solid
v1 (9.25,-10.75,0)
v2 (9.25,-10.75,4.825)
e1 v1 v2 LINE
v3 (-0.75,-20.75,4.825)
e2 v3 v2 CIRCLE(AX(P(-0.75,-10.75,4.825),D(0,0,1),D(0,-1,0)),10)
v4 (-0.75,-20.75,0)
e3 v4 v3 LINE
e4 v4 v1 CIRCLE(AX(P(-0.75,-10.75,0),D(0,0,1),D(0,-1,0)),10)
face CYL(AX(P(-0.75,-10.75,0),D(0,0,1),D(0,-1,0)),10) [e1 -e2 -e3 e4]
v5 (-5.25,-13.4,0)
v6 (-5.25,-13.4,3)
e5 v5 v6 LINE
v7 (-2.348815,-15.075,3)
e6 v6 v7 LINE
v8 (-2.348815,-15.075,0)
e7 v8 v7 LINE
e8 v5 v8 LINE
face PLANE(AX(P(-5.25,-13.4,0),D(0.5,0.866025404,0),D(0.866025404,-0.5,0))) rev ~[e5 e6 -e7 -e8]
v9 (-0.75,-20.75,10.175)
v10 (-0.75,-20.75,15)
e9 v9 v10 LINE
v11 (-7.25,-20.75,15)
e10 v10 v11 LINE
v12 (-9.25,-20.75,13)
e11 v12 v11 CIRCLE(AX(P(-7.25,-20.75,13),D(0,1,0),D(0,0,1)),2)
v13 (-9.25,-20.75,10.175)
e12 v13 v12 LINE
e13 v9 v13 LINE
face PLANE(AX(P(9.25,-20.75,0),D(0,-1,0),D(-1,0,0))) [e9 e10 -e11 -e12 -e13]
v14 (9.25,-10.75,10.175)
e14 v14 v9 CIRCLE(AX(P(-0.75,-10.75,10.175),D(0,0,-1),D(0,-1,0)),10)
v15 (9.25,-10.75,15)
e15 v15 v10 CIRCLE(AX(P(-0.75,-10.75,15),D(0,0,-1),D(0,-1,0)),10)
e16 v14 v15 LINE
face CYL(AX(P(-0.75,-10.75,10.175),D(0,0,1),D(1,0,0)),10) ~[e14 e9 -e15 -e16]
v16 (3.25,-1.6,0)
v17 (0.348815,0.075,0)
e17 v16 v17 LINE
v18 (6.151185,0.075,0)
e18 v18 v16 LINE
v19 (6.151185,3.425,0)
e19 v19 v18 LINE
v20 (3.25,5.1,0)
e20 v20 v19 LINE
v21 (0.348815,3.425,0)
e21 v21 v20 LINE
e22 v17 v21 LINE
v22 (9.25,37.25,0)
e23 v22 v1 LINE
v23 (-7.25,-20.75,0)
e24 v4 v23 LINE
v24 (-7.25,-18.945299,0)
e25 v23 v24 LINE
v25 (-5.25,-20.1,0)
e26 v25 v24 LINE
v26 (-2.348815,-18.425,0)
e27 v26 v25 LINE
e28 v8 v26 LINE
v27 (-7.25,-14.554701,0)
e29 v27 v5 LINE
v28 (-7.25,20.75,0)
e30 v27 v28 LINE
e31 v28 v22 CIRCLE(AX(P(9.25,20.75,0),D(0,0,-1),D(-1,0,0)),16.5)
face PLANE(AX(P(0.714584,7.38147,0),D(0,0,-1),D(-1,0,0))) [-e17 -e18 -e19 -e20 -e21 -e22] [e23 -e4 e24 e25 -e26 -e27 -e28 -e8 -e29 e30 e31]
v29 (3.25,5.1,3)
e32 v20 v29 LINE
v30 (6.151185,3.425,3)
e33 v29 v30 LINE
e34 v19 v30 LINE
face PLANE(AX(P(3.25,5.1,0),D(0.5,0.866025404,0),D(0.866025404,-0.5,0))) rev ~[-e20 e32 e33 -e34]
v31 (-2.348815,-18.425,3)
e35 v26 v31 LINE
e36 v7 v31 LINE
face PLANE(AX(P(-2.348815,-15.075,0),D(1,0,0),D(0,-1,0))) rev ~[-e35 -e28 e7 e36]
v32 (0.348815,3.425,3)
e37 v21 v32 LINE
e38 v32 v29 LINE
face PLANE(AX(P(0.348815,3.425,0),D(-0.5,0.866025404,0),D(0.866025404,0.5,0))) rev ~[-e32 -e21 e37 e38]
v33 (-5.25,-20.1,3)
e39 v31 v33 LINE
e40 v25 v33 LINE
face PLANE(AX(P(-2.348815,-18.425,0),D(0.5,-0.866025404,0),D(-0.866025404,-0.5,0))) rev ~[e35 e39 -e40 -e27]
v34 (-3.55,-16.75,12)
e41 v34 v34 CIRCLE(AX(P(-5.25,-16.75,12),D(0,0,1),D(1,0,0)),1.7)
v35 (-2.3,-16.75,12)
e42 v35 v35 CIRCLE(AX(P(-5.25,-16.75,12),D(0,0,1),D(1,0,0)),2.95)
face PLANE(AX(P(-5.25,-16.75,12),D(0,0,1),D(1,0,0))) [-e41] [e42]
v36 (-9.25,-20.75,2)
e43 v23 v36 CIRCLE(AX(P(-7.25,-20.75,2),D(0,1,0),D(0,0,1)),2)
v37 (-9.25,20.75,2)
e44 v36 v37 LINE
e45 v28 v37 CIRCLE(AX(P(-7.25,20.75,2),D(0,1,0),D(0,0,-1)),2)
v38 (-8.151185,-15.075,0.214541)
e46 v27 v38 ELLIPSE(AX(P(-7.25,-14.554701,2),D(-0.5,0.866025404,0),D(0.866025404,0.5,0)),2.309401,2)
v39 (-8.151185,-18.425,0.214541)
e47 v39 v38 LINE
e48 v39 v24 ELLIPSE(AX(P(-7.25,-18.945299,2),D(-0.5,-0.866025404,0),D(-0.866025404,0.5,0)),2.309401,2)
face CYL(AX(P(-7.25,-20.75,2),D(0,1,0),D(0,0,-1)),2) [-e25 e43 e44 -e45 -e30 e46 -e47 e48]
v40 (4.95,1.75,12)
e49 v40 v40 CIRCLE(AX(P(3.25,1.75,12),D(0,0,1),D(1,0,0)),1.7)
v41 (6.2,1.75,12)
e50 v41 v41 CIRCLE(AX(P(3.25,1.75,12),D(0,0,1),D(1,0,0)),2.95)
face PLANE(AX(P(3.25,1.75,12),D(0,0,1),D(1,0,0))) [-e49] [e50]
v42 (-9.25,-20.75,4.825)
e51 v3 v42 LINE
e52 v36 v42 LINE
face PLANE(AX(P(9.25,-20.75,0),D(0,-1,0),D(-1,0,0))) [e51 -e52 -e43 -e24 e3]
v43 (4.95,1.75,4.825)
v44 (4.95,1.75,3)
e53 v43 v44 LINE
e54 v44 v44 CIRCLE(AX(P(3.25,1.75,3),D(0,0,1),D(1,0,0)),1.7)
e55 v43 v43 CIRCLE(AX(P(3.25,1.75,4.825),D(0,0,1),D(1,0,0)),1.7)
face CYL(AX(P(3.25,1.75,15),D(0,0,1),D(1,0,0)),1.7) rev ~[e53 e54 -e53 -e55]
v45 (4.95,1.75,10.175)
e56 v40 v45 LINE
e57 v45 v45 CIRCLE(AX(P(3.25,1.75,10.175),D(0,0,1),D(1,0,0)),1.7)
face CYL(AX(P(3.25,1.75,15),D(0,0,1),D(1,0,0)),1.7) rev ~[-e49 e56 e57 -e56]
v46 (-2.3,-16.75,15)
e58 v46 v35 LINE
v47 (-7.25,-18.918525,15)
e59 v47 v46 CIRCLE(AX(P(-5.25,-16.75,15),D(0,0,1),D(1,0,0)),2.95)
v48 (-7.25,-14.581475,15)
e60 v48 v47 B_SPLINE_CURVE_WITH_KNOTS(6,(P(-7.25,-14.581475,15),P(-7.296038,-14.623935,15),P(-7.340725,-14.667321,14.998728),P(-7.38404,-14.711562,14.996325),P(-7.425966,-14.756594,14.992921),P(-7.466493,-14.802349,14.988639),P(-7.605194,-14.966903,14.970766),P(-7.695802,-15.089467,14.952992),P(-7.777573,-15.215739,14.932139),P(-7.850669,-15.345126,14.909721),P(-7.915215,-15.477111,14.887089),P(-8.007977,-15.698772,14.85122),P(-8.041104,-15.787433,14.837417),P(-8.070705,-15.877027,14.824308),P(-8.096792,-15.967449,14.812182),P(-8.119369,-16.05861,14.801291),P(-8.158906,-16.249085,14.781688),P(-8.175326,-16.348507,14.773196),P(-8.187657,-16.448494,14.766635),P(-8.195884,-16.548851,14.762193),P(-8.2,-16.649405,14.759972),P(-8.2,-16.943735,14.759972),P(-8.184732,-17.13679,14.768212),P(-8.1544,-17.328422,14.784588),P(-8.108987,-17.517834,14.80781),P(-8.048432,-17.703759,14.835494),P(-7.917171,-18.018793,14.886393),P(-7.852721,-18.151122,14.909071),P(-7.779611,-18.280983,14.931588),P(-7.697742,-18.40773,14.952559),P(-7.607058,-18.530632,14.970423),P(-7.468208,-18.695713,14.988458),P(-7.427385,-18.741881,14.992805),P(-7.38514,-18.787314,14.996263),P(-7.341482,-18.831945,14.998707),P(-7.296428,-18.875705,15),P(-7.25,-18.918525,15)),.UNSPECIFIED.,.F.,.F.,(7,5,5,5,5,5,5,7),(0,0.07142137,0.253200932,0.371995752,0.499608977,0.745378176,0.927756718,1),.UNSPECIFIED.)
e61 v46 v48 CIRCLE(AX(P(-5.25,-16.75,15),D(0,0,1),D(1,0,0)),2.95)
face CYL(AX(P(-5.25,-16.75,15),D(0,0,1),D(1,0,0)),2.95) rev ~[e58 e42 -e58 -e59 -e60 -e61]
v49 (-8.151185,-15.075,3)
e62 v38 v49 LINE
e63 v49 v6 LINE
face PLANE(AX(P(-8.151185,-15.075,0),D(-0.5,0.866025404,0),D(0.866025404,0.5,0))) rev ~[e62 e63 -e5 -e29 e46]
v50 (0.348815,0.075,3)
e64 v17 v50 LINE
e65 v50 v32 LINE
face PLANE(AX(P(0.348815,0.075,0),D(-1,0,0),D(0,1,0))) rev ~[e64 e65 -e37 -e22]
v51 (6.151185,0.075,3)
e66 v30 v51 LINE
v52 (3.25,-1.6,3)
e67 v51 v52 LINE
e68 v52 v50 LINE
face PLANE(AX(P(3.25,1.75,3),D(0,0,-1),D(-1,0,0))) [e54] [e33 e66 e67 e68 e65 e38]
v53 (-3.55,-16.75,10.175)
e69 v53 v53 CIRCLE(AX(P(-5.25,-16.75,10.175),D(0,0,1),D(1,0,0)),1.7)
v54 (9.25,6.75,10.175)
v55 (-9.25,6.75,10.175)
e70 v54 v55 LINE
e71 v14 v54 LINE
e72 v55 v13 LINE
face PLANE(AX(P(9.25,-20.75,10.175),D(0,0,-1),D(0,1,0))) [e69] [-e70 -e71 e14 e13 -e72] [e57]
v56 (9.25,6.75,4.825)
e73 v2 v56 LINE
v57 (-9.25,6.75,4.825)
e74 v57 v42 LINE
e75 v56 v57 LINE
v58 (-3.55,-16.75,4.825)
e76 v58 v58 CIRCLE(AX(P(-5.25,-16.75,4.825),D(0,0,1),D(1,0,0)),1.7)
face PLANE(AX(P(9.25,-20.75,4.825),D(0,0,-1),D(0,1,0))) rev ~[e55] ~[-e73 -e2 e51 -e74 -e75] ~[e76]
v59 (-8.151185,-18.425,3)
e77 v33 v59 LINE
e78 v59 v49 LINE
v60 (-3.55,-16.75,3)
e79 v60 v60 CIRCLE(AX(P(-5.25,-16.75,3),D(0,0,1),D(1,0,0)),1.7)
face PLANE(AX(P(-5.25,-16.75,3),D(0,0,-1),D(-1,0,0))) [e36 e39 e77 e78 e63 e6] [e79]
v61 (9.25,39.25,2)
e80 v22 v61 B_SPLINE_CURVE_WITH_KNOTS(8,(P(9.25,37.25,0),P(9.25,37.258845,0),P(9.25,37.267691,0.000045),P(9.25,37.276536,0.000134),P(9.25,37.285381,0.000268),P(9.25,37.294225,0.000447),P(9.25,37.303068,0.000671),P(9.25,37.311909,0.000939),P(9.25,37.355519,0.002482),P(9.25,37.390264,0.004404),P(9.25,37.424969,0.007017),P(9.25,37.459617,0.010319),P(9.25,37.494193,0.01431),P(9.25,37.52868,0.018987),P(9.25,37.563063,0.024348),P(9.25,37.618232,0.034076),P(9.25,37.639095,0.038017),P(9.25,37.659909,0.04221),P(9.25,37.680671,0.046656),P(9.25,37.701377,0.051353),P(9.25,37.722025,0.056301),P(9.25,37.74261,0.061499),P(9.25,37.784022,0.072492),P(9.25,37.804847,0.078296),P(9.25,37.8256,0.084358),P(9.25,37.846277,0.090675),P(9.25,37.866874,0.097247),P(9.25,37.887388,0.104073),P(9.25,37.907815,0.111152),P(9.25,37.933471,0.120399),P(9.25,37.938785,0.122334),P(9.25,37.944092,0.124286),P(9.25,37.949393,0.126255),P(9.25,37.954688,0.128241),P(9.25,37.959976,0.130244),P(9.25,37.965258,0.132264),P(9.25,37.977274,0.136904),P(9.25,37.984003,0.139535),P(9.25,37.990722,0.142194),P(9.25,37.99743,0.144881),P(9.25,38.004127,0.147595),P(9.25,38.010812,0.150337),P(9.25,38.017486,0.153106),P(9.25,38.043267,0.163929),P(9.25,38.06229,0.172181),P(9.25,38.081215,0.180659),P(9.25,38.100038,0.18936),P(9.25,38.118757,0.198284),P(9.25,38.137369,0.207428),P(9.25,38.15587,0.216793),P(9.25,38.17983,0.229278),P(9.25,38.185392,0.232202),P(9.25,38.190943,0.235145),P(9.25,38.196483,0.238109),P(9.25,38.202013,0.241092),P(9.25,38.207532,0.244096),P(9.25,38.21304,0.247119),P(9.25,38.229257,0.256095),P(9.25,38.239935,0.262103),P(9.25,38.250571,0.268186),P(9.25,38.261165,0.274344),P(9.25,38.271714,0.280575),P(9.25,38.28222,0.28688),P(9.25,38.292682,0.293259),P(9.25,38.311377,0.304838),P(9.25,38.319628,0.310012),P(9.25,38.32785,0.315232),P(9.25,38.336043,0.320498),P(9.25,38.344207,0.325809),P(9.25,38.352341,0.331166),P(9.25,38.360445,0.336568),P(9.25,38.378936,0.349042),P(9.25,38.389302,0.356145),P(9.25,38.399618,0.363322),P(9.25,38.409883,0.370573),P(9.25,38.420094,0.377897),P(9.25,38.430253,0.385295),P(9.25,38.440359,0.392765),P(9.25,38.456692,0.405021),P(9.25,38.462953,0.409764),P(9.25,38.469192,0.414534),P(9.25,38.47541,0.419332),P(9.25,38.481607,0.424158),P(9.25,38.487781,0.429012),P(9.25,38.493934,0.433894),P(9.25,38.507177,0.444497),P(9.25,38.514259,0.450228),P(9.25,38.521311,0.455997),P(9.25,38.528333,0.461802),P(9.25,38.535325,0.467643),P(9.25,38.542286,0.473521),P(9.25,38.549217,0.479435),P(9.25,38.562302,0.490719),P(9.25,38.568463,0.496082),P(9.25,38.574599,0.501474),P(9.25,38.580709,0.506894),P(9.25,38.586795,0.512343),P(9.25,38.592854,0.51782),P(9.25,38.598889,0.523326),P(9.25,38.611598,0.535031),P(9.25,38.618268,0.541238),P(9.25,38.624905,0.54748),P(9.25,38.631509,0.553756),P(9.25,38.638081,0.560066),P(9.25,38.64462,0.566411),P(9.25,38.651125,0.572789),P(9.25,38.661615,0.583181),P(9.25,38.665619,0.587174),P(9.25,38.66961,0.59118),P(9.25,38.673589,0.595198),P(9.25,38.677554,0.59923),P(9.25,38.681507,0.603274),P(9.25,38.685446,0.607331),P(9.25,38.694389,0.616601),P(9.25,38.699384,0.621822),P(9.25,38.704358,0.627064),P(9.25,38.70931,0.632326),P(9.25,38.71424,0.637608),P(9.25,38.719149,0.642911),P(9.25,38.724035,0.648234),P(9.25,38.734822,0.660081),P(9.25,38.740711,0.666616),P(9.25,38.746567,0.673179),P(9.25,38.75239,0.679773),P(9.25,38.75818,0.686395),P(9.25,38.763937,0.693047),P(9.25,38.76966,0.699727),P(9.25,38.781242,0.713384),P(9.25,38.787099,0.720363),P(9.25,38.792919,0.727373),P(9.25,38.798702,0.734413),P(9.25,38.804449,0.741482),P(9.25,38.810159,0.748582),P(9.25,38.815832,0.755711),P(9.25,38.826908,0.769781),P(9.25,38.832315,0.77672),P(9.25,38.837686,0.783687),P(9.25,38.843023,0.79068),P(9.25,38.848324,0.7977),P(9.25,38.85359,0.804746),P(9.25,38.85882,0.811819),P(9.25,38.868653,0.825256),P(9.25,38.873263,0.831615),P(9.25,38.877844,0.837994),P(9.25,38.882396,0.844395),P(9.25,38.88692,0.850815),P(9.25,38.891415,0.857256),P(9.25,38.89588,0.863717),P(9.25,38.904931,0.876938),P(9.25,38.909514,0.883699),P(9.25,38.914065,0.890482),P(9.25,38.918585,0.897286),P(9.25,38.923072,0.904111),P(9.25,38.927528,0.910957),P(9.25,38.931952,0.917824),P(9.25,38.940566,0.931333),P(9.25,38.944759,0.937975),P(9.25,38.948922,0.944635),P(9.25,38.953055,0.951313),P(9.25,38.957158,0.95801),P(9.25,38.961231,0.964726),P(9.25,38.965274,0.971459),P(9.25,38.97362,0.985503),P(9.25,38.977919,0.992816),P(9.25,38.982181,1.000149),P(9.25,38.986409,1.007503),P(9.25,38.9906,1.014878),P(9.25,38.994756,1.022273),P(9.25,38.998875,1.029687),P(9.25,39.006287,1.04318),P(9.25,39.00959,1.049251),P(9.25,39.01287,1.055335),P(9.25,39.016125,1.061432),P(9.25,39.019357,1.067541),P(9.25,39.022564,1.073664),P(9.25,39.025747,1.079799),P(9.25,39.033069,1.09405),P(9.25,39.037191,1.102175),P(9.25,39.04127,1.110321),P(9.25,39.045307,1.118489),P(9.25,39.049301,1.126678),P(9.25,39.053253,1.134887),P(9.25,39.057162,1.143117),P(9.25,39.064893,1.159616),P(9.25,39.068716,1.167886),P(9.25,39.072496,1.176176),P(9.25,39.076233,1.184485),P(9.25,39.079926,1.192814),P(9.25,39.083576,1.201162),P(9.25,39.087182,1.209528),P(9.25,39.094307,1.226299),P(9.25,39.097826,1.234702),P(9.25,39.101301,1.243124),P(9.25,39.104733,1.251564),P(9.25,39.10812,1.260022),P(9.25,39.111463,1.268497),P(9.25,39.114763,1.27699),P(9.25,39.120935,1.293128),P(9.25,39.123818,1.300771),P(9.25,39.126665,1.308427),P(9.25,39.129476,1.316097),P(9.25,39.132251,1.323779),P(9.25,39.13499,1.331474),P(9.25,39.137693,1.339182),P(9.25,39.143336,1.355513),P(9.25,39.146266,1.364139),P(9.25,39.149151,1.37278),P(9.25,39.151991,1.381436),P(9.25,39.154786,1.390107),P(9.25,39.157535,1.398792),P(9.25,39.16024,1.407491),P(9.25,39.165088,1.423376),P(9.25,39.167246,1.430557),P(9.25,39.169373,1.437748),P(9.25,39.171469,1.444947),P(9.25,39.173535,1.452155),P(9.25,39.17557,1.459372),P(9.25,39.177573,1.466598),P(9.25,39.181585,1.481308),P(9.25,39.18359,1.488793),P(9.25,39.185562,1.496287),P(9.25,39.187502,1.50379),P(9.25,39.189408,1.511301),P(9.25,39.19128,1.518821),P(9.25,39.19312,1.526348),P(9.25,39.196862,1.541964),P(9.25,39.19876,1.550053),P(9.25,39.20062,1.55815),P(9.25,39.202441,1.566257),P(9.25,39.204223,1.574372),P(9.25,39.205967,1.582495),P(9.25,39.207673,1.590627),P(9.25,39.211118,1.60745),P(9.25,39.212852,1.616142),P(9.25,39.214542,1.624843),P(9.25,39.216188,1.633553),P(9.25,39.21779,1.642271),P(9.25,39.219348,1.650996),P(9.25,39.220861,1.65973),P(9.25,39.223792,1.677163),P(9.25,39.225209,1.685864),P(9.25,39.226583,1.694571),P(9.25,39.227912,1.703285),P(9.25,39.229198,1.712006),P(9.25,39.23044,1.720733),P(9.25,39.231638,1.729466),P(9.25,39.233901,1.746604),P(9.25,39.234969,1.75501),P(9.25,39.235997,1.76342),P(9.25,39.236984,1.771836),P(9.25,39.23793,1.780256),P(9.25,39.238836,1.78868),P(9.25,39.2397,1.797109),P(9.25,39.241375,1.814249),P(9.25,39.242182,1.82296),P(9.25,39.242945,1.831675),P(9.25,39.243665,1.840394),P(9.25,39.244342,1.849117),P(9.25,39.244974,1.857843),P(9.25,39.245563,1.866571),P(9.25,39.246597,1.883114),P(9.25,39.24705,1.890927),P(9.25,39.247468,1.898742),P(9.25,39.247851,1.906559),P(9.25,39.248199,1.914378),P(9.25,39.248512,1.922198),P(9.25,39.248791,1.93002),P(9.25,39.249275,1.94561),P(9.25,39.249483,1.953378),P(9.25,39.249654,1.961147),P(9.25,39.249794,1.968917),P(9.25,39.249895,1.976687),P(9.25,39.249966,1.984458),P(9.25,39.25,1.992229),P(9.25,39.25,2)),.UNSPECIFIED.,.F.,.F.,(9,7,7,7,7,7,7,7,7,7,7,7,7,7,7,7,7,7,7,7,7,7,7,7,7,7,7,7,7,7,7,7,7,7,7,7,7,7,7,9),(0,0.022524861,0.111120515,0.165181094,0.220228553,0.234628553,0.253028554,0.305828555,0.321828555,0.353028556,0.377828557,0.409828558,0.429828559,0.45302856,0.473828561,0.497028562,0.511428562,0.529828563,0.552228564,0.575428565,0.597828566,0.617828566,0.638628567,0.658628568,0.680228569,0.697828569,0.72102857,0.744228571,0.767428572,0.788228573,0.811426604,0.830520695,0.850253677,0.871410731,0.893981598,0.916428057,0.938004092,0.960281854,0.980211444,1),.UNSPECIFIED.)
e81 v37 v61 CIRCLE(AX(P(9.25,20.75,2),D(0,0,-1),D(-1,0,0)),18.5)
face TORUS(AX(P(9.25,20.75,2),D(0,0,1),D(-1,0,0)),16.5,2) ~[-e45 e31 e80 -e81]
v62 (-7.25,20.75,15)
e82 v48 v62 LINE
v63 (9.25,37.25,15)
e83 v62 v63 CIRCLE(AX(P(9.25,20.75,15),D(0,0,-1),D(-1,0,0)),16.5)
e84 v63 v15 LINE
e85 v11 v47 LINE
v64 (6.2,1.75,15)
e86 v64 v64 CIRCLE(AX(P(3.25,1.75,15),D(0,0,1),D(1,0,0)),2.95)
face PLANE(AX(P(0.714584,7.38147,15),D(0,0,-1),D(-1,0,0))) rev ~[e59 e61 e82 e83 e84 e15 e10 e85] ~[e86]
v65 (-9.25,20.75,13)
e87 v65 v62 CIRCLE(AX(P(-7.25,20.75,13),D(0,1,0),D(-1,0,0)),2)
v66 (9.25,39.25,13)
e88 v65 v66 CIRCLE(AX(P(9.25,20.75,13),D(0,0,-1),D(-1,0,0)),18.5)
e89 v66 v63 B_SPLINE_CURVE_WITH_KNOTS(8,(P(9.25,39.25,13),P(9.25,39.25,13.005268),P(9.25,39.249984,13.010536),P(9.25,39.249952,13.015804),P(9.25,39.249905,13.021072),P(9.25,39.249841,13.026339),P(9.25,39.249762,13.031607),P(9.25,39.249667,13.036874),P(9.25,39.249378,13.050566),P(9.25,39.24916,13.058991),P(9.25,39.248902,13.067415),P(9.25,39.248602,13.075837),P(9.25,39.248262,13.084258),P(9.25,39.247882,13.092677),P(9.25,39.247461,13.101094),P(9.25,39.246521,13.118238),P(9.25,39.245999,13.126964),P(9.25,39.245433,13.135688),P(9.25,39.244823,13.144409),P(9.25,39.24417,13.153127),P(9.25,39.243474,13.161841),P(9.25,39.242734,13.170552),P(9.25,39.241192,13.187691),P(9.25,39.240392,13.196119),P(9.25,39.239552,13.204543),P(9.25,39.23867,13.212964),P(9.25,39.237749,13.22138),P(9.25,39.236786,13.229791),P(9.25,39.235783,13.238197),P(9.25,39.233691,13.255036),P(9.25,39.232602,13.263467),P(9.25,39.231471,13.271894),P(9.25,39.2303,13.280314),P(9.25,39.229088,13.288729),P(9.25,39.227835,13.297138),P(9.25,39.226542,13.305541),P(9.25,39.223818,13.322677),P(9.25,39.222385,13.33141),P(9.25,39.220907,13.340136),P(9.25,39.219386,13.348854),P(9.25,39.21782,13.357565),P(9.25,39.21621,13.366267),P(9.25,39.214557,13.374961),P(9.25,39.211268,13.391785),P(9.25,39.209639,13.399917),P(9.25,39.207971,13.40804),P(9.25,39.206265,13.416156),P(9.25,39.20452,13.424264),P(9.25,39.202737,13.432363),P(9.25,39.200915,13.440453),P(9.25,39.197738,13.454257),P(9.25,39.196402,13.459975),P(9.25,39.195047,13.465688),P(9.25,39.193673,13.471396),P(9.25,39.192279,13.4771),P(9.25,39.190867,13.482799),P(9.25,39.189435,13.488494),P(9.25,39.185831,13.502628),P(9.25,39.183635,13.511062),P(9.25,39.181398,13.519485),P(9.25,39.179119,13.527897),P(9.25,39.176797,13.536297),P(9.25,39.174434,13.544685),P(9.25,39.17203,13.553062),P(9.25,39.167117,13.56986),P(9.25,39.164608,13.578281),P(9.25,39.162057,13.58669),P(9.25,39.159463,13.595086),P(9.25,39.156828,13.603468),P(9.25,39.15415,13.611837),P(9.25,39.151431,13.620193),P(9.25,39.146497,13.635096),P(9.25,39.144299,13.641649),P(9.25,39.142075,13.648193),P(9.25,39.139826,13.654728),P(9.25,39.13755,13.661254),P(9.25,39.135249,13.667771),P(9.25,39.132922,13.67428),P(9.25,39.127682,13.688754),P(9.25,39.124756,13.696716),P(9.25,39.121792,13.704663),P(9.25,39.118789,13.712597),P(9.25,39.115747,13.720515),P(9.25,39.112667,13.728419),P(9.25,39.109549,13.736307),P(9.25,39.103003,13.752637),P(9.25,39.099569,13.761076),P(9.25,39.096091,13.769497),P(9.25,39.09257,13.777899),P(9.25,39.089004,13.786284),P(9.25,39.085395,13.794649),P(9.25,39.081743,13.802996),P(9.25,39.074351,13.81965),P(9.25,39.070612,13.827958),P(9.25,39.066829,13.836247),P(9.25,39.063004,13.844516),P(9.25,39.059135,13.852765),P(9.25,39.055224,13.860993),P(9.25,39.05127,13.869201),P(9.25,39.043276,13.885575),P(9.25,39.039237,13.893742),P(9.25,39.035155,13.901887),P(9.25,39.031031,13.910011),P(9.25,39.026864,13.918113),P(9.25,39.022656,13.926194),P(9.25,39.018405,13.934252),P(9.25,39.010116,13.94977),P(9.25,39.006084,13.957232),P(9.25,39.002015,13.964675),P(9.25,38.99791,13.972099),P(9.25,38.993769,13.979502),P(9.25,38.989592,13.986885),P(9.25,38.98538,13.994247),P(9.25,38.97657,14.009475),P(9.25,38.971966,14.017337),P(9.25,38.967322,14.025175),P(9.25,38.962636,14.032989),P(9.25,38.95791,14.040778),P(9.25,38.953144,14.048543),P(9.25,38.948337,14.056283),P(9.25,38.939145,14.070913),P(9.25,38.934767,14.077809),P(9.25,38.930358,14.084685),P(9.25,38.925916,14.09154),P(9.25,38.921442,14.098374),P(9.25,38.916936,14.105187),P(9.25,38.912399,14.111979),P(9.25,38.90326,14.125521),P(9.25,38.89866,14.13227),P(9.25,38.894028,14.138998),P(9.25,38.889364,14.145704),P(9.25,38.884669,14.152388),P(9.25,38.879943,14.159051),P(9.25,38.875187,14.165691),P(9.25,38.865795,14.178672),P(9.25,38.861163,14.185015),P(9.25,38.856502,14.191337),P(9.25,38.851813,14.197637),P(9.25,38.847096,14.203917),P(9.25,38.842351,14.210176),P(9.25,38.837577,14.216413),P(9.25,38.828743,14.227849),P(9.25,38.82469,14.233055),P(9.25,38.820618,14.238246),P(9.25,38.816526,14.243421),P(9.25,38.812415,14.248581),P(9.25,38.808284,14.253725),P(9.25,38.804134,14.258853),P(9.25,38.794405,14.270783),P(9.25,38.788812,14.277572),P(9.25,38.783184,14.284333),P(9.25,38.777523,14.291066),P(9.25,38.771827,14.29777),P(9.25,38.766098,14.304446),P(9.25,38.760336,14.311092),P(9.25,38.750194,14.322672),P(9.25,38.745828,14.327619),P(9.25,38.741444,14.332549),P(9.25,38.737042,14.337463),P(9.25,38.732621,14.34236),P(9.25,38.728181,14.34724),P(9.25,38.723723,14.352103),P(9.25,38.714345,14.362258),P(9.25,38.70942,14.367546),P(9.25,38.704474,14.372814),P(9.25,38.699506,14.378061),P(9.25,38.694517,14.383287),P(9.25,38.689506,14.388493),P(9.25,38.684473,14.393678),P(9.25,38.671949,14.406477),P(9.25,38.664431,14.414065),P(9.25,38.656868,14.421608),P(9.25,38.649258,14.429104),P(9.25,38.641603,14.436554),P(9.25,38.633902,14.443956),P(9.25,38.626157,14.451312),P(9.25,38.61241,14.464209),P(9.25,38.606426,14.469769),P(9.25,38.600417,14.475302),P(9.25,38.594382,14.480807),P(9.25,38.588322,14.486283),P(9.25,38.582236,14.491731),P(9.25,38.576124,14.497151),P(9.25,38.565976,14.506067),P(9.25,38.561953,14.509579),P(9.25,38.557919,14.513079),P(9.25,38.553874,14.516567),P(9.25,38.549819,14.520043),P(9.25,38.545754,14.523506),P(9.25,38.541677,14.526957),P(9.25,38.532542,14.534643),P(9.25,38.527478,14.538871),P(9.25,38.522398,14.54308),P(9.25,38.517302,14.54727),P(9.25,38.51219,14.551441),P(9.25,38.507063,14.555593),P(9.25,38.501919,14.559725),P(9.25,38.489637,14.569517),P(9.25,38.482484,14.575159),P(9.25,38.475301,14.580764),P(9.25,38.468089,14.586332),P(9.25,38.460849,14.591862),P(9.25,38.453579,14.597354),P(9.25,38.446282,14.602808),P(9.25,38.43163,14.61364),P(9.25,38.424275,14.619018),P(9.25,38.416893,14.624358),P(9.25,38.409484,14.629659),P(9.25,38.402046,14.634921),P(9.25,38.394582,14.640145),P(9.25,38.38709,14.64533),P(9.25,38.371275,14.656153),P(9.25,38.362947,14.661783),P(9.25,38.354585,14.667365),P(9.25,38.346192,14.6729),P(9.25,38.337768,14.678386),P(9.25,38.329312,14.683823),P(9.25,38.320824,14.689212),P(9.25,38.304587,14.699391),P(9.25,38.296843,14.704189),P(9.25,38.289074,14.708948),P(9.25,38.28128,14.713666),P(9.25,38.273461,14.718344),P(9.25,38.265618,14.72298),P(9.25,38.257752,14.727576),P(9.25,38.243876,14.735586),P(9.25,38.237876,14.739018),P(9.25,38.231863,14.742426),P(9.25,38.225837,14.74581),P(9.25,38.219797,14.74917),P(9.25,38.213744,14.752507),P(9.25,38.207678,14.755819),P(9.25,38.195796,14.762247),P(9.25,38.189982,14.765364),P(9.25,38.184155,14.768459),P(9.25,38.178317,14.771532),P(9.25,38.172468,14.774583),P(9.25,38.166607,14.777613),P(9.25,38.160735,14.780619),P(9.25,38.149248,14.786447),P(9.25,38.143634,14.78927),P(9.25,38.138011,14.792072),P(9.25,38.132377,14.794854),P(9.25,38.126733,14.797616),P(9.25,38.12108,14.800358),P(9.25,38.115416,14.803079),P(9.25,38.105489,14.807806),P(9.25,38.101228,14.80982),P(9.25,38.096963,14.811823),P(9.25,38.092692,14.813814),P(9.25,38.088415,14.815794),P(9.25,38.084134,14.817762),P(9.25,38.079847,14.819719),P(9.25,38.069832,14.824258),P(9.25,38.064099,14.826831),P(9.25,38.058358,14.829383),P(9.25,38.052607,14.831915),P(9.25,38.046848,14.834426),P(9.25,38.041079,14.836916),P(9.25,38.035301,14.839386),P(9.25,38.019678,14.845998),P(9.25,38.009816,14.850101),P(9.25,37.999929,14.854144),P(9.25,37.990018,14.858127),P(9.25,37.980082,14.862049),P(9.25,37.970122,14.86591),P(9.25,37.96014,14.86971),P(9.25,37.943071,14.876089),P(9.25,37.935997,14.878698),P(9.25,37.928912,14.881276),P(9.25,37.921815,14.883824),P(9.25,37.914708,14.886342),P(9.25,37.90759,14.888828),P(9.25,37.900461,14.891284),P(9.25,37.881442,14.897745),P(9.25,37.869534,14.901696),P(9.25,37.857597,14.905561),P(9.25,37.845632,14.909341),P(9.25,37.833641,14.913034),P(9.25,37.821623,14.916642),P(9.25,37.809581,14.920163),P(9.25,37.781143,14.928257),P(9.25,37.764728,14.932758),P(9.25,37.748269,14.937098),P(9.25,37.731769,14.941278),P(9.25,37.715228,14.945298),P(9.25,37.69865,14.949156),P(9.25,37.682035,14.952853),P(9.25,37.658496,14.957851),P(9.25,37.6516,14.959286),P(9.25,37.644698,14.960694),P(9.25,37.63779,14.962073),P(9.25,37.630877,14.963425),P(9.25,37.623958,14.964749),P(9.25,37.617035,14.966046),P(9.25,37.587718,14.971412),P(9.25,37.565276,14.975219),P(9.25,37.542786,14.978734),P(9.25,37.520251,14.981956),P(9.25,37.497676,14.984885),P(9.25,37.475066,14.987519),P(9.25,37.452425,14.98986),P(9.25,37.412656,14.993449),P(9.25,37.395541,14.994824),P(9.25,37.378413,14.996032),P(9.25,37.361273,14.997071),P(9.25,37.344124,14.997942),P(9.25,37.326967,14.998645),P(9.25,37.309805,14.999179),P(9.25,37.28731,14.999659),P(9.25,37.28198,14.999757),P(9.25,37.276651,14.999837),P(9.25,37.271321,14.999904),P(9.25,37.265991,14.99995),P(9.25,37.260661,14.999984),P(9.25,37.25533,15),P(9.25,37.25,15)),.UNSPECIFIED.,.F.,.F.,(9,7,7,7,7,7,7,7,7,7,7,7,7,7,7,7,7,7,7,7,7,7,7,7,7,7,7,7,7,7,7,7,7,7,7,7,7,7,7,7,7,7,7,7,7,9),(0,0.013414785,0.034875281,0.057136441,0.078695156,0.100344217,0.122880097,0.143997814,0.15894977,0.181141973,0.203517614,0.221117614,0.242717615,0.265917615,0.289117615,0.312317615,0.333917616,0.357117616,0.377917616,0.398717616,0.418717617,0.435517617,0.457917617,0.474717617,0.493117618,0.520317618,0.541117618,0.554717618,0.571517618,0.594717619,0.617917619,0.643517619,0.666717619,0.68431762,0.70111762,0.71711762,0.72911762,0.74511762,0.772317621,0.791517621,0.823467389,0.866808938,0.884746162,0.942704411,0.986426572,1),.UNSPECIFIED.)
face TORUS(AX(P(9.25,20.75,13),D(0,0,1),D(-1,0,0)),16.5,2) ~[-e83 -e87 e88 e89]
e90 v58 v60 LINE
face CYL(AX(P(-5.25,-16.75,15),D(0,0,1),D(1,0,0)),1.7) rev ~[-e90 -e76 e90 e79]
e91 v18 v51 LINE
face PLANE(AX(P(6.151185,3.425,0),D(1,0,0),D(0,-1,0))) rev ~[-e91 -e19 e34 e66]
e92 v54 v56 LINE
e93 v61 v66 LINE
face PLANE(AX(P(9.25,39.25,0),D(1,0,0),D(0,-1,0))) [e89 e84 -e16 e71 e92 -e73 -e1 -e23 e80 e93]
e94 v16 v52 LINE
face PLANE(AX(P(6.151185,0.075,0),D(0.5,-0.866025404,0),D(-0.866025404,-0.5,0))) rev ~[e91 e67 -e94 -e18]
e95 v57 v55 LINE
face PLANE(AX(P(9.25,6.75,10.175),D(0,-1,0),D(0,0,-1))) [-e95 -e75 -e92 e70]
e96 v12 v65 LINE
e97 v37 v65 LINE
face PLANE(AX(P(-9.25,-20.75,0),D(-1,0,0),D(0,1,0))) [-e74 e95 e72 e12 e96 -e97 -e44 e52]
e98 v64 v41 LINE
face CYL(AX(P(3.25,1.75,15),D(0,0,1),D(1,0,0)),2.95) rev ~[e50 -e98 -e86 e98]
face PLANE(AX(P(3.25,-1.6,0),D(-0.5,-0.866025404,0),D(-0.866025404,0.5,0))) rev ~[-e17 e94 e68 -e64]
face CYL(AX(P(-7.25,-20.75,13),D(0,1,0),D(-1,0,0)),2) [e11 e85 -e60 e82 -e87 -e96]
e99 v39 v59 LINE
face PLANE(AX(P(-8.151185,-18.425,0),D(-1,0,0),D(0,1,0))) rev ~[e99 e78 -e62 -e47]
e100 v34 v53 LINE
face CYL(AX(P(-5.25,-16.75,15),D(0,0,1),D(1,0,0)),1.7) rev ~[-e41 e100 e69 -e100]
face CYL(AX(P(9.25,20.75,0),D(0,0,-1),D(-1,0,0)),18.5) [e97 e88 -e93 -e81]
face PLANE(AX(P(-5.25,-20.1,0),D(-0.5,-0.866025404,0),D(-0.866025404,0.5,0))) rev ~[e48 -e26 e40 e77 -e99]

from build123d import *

# Parameters (mm, degrees)
SALIENTE_EXTRUIR1_DEPTH = 15
CROQUIS2_W              = 5.35
CROQUIS2_H              = 27.5
CORTAR_EXTRUIR1_DEPTH   = 30
CROQUIS3_R              = 1.7
CORTAR_EXTRUIR2_DEPTH   = 30
REDONDEO1_R             = 10
REDONDEO2_R             = 2
CROQUIS4_R              = 2.95
CORTAR_EXTRUIR3_DEPTH   = 3
CORTAR_EXTRUIR4_DEPTH   = 3


with BuildPart() as part:
    # Croquis1 → Saliente-Extruir1 (new body)
    with BuildSketch(Plane.XY):
        with BuildLine():
            Line((9.25, -20.75), (-9.25, -20.75))
            Line((-9.25, -20.75), (-9.25, 20.75))
            ThreePointArc((-9.25, 20.75), (-3.831475452, 33.831475452), (9.25, 39.25))
            Line((9.25, 39.25), (9.25, 20.75))
            Line((9.25, 20.75), (9.25, -20.75))
        make_face()
    extrude(amount=SALIENTE_EXTRUIR1_DEPTH)

    # Croquis2 → Cortar-Extruir1 (cut)
    with BuildSketch(Plane(origin=(9.25, 0, 0), x_dir=(0, 0, -1), z_dir=(1, 0, 0))):
        with Locations((-7.5, -7)):
            Rectangle(CROQUIS2_W, CROQUIS2_H)
    extrude(amount=-CORTAR_EXTRUIR1_DEPTH, mode=Mode.SUBTRACT)

    # Croquis3 → Cortar-Extruir2 (cut)
    with BuildSketch(Plane.XY.offset(15)):
        with Locations((3.25, 1.75)):
            Circle(CROQUIS3_R)
        with Locations((-5.25, -16.75)):
            Circle(CROQUIS3_R)
    extrude(amount=-CORTAR_EXTRUIR2_DEPTH, mode=Mode.SUBTRACT)

    # Redondeo1
    redondeo1_edges = [part.edges().sort_by_distance(p)[0] for p in [
        (9.25, -20.75, 2.4125),
        (9.25, -20.75, 12.5875),
    ]]
    fillet(redondeo1_edges, radius=REDONDEO1_R)

    # Redondeo2
    redondeo2_edges = [part.edges().sort_by_distance(p)[0] for p in [
        (-3.831475452, 33.831475452, 15),
        (-9.25, 0, 0),
        (-3.831475452, 33.831475452, 0),
        (-9.25, 0, 15),
    ]]
    fillet(redondeo2_edges, radius=REDONDEO2_R)

    # Croquis4 → Cortar-Extruir3 (cut)
    with BuildSketch(Plane.XY.offset(15)):
        with Locations((3.25, 1.75)):
            Circle(CROQUIS4_R)
        with Locations((-5.25, -16.75)):
            Circle(CROQUIS4_R)
    extrude(amount=-CORTAR_EXTRUIR3_DEPTH, mode=Mode.SUBTRACT)

    # Croquis5 → Cortar-Extruir4 (cut)
    with BuildSketch(Plane(origin=(0, 0, 0), x_dir=(-1, 0, 0), z_dir=(0, 0, -1))):
        Polygon((-0.348814897, 3.425), (-3.25, 5.1), (-6.151185103, 3.425), (-6.151185103, 0.075), (-3.25, -1.6), (-0.348814897, 0.075), align=None)
        Polygon((5.25, -13.4), (2.348814897, -15.075), (2.348814897, -18.425), (5.25, -20.1), (8.151185103, -18.425), (8.151185103, -15.075), align=None)
    extrude(amount=-CORTAR_EXTRUIR4_DEPTH, mode=Mode.SUBTRACT)


solid = part.part
